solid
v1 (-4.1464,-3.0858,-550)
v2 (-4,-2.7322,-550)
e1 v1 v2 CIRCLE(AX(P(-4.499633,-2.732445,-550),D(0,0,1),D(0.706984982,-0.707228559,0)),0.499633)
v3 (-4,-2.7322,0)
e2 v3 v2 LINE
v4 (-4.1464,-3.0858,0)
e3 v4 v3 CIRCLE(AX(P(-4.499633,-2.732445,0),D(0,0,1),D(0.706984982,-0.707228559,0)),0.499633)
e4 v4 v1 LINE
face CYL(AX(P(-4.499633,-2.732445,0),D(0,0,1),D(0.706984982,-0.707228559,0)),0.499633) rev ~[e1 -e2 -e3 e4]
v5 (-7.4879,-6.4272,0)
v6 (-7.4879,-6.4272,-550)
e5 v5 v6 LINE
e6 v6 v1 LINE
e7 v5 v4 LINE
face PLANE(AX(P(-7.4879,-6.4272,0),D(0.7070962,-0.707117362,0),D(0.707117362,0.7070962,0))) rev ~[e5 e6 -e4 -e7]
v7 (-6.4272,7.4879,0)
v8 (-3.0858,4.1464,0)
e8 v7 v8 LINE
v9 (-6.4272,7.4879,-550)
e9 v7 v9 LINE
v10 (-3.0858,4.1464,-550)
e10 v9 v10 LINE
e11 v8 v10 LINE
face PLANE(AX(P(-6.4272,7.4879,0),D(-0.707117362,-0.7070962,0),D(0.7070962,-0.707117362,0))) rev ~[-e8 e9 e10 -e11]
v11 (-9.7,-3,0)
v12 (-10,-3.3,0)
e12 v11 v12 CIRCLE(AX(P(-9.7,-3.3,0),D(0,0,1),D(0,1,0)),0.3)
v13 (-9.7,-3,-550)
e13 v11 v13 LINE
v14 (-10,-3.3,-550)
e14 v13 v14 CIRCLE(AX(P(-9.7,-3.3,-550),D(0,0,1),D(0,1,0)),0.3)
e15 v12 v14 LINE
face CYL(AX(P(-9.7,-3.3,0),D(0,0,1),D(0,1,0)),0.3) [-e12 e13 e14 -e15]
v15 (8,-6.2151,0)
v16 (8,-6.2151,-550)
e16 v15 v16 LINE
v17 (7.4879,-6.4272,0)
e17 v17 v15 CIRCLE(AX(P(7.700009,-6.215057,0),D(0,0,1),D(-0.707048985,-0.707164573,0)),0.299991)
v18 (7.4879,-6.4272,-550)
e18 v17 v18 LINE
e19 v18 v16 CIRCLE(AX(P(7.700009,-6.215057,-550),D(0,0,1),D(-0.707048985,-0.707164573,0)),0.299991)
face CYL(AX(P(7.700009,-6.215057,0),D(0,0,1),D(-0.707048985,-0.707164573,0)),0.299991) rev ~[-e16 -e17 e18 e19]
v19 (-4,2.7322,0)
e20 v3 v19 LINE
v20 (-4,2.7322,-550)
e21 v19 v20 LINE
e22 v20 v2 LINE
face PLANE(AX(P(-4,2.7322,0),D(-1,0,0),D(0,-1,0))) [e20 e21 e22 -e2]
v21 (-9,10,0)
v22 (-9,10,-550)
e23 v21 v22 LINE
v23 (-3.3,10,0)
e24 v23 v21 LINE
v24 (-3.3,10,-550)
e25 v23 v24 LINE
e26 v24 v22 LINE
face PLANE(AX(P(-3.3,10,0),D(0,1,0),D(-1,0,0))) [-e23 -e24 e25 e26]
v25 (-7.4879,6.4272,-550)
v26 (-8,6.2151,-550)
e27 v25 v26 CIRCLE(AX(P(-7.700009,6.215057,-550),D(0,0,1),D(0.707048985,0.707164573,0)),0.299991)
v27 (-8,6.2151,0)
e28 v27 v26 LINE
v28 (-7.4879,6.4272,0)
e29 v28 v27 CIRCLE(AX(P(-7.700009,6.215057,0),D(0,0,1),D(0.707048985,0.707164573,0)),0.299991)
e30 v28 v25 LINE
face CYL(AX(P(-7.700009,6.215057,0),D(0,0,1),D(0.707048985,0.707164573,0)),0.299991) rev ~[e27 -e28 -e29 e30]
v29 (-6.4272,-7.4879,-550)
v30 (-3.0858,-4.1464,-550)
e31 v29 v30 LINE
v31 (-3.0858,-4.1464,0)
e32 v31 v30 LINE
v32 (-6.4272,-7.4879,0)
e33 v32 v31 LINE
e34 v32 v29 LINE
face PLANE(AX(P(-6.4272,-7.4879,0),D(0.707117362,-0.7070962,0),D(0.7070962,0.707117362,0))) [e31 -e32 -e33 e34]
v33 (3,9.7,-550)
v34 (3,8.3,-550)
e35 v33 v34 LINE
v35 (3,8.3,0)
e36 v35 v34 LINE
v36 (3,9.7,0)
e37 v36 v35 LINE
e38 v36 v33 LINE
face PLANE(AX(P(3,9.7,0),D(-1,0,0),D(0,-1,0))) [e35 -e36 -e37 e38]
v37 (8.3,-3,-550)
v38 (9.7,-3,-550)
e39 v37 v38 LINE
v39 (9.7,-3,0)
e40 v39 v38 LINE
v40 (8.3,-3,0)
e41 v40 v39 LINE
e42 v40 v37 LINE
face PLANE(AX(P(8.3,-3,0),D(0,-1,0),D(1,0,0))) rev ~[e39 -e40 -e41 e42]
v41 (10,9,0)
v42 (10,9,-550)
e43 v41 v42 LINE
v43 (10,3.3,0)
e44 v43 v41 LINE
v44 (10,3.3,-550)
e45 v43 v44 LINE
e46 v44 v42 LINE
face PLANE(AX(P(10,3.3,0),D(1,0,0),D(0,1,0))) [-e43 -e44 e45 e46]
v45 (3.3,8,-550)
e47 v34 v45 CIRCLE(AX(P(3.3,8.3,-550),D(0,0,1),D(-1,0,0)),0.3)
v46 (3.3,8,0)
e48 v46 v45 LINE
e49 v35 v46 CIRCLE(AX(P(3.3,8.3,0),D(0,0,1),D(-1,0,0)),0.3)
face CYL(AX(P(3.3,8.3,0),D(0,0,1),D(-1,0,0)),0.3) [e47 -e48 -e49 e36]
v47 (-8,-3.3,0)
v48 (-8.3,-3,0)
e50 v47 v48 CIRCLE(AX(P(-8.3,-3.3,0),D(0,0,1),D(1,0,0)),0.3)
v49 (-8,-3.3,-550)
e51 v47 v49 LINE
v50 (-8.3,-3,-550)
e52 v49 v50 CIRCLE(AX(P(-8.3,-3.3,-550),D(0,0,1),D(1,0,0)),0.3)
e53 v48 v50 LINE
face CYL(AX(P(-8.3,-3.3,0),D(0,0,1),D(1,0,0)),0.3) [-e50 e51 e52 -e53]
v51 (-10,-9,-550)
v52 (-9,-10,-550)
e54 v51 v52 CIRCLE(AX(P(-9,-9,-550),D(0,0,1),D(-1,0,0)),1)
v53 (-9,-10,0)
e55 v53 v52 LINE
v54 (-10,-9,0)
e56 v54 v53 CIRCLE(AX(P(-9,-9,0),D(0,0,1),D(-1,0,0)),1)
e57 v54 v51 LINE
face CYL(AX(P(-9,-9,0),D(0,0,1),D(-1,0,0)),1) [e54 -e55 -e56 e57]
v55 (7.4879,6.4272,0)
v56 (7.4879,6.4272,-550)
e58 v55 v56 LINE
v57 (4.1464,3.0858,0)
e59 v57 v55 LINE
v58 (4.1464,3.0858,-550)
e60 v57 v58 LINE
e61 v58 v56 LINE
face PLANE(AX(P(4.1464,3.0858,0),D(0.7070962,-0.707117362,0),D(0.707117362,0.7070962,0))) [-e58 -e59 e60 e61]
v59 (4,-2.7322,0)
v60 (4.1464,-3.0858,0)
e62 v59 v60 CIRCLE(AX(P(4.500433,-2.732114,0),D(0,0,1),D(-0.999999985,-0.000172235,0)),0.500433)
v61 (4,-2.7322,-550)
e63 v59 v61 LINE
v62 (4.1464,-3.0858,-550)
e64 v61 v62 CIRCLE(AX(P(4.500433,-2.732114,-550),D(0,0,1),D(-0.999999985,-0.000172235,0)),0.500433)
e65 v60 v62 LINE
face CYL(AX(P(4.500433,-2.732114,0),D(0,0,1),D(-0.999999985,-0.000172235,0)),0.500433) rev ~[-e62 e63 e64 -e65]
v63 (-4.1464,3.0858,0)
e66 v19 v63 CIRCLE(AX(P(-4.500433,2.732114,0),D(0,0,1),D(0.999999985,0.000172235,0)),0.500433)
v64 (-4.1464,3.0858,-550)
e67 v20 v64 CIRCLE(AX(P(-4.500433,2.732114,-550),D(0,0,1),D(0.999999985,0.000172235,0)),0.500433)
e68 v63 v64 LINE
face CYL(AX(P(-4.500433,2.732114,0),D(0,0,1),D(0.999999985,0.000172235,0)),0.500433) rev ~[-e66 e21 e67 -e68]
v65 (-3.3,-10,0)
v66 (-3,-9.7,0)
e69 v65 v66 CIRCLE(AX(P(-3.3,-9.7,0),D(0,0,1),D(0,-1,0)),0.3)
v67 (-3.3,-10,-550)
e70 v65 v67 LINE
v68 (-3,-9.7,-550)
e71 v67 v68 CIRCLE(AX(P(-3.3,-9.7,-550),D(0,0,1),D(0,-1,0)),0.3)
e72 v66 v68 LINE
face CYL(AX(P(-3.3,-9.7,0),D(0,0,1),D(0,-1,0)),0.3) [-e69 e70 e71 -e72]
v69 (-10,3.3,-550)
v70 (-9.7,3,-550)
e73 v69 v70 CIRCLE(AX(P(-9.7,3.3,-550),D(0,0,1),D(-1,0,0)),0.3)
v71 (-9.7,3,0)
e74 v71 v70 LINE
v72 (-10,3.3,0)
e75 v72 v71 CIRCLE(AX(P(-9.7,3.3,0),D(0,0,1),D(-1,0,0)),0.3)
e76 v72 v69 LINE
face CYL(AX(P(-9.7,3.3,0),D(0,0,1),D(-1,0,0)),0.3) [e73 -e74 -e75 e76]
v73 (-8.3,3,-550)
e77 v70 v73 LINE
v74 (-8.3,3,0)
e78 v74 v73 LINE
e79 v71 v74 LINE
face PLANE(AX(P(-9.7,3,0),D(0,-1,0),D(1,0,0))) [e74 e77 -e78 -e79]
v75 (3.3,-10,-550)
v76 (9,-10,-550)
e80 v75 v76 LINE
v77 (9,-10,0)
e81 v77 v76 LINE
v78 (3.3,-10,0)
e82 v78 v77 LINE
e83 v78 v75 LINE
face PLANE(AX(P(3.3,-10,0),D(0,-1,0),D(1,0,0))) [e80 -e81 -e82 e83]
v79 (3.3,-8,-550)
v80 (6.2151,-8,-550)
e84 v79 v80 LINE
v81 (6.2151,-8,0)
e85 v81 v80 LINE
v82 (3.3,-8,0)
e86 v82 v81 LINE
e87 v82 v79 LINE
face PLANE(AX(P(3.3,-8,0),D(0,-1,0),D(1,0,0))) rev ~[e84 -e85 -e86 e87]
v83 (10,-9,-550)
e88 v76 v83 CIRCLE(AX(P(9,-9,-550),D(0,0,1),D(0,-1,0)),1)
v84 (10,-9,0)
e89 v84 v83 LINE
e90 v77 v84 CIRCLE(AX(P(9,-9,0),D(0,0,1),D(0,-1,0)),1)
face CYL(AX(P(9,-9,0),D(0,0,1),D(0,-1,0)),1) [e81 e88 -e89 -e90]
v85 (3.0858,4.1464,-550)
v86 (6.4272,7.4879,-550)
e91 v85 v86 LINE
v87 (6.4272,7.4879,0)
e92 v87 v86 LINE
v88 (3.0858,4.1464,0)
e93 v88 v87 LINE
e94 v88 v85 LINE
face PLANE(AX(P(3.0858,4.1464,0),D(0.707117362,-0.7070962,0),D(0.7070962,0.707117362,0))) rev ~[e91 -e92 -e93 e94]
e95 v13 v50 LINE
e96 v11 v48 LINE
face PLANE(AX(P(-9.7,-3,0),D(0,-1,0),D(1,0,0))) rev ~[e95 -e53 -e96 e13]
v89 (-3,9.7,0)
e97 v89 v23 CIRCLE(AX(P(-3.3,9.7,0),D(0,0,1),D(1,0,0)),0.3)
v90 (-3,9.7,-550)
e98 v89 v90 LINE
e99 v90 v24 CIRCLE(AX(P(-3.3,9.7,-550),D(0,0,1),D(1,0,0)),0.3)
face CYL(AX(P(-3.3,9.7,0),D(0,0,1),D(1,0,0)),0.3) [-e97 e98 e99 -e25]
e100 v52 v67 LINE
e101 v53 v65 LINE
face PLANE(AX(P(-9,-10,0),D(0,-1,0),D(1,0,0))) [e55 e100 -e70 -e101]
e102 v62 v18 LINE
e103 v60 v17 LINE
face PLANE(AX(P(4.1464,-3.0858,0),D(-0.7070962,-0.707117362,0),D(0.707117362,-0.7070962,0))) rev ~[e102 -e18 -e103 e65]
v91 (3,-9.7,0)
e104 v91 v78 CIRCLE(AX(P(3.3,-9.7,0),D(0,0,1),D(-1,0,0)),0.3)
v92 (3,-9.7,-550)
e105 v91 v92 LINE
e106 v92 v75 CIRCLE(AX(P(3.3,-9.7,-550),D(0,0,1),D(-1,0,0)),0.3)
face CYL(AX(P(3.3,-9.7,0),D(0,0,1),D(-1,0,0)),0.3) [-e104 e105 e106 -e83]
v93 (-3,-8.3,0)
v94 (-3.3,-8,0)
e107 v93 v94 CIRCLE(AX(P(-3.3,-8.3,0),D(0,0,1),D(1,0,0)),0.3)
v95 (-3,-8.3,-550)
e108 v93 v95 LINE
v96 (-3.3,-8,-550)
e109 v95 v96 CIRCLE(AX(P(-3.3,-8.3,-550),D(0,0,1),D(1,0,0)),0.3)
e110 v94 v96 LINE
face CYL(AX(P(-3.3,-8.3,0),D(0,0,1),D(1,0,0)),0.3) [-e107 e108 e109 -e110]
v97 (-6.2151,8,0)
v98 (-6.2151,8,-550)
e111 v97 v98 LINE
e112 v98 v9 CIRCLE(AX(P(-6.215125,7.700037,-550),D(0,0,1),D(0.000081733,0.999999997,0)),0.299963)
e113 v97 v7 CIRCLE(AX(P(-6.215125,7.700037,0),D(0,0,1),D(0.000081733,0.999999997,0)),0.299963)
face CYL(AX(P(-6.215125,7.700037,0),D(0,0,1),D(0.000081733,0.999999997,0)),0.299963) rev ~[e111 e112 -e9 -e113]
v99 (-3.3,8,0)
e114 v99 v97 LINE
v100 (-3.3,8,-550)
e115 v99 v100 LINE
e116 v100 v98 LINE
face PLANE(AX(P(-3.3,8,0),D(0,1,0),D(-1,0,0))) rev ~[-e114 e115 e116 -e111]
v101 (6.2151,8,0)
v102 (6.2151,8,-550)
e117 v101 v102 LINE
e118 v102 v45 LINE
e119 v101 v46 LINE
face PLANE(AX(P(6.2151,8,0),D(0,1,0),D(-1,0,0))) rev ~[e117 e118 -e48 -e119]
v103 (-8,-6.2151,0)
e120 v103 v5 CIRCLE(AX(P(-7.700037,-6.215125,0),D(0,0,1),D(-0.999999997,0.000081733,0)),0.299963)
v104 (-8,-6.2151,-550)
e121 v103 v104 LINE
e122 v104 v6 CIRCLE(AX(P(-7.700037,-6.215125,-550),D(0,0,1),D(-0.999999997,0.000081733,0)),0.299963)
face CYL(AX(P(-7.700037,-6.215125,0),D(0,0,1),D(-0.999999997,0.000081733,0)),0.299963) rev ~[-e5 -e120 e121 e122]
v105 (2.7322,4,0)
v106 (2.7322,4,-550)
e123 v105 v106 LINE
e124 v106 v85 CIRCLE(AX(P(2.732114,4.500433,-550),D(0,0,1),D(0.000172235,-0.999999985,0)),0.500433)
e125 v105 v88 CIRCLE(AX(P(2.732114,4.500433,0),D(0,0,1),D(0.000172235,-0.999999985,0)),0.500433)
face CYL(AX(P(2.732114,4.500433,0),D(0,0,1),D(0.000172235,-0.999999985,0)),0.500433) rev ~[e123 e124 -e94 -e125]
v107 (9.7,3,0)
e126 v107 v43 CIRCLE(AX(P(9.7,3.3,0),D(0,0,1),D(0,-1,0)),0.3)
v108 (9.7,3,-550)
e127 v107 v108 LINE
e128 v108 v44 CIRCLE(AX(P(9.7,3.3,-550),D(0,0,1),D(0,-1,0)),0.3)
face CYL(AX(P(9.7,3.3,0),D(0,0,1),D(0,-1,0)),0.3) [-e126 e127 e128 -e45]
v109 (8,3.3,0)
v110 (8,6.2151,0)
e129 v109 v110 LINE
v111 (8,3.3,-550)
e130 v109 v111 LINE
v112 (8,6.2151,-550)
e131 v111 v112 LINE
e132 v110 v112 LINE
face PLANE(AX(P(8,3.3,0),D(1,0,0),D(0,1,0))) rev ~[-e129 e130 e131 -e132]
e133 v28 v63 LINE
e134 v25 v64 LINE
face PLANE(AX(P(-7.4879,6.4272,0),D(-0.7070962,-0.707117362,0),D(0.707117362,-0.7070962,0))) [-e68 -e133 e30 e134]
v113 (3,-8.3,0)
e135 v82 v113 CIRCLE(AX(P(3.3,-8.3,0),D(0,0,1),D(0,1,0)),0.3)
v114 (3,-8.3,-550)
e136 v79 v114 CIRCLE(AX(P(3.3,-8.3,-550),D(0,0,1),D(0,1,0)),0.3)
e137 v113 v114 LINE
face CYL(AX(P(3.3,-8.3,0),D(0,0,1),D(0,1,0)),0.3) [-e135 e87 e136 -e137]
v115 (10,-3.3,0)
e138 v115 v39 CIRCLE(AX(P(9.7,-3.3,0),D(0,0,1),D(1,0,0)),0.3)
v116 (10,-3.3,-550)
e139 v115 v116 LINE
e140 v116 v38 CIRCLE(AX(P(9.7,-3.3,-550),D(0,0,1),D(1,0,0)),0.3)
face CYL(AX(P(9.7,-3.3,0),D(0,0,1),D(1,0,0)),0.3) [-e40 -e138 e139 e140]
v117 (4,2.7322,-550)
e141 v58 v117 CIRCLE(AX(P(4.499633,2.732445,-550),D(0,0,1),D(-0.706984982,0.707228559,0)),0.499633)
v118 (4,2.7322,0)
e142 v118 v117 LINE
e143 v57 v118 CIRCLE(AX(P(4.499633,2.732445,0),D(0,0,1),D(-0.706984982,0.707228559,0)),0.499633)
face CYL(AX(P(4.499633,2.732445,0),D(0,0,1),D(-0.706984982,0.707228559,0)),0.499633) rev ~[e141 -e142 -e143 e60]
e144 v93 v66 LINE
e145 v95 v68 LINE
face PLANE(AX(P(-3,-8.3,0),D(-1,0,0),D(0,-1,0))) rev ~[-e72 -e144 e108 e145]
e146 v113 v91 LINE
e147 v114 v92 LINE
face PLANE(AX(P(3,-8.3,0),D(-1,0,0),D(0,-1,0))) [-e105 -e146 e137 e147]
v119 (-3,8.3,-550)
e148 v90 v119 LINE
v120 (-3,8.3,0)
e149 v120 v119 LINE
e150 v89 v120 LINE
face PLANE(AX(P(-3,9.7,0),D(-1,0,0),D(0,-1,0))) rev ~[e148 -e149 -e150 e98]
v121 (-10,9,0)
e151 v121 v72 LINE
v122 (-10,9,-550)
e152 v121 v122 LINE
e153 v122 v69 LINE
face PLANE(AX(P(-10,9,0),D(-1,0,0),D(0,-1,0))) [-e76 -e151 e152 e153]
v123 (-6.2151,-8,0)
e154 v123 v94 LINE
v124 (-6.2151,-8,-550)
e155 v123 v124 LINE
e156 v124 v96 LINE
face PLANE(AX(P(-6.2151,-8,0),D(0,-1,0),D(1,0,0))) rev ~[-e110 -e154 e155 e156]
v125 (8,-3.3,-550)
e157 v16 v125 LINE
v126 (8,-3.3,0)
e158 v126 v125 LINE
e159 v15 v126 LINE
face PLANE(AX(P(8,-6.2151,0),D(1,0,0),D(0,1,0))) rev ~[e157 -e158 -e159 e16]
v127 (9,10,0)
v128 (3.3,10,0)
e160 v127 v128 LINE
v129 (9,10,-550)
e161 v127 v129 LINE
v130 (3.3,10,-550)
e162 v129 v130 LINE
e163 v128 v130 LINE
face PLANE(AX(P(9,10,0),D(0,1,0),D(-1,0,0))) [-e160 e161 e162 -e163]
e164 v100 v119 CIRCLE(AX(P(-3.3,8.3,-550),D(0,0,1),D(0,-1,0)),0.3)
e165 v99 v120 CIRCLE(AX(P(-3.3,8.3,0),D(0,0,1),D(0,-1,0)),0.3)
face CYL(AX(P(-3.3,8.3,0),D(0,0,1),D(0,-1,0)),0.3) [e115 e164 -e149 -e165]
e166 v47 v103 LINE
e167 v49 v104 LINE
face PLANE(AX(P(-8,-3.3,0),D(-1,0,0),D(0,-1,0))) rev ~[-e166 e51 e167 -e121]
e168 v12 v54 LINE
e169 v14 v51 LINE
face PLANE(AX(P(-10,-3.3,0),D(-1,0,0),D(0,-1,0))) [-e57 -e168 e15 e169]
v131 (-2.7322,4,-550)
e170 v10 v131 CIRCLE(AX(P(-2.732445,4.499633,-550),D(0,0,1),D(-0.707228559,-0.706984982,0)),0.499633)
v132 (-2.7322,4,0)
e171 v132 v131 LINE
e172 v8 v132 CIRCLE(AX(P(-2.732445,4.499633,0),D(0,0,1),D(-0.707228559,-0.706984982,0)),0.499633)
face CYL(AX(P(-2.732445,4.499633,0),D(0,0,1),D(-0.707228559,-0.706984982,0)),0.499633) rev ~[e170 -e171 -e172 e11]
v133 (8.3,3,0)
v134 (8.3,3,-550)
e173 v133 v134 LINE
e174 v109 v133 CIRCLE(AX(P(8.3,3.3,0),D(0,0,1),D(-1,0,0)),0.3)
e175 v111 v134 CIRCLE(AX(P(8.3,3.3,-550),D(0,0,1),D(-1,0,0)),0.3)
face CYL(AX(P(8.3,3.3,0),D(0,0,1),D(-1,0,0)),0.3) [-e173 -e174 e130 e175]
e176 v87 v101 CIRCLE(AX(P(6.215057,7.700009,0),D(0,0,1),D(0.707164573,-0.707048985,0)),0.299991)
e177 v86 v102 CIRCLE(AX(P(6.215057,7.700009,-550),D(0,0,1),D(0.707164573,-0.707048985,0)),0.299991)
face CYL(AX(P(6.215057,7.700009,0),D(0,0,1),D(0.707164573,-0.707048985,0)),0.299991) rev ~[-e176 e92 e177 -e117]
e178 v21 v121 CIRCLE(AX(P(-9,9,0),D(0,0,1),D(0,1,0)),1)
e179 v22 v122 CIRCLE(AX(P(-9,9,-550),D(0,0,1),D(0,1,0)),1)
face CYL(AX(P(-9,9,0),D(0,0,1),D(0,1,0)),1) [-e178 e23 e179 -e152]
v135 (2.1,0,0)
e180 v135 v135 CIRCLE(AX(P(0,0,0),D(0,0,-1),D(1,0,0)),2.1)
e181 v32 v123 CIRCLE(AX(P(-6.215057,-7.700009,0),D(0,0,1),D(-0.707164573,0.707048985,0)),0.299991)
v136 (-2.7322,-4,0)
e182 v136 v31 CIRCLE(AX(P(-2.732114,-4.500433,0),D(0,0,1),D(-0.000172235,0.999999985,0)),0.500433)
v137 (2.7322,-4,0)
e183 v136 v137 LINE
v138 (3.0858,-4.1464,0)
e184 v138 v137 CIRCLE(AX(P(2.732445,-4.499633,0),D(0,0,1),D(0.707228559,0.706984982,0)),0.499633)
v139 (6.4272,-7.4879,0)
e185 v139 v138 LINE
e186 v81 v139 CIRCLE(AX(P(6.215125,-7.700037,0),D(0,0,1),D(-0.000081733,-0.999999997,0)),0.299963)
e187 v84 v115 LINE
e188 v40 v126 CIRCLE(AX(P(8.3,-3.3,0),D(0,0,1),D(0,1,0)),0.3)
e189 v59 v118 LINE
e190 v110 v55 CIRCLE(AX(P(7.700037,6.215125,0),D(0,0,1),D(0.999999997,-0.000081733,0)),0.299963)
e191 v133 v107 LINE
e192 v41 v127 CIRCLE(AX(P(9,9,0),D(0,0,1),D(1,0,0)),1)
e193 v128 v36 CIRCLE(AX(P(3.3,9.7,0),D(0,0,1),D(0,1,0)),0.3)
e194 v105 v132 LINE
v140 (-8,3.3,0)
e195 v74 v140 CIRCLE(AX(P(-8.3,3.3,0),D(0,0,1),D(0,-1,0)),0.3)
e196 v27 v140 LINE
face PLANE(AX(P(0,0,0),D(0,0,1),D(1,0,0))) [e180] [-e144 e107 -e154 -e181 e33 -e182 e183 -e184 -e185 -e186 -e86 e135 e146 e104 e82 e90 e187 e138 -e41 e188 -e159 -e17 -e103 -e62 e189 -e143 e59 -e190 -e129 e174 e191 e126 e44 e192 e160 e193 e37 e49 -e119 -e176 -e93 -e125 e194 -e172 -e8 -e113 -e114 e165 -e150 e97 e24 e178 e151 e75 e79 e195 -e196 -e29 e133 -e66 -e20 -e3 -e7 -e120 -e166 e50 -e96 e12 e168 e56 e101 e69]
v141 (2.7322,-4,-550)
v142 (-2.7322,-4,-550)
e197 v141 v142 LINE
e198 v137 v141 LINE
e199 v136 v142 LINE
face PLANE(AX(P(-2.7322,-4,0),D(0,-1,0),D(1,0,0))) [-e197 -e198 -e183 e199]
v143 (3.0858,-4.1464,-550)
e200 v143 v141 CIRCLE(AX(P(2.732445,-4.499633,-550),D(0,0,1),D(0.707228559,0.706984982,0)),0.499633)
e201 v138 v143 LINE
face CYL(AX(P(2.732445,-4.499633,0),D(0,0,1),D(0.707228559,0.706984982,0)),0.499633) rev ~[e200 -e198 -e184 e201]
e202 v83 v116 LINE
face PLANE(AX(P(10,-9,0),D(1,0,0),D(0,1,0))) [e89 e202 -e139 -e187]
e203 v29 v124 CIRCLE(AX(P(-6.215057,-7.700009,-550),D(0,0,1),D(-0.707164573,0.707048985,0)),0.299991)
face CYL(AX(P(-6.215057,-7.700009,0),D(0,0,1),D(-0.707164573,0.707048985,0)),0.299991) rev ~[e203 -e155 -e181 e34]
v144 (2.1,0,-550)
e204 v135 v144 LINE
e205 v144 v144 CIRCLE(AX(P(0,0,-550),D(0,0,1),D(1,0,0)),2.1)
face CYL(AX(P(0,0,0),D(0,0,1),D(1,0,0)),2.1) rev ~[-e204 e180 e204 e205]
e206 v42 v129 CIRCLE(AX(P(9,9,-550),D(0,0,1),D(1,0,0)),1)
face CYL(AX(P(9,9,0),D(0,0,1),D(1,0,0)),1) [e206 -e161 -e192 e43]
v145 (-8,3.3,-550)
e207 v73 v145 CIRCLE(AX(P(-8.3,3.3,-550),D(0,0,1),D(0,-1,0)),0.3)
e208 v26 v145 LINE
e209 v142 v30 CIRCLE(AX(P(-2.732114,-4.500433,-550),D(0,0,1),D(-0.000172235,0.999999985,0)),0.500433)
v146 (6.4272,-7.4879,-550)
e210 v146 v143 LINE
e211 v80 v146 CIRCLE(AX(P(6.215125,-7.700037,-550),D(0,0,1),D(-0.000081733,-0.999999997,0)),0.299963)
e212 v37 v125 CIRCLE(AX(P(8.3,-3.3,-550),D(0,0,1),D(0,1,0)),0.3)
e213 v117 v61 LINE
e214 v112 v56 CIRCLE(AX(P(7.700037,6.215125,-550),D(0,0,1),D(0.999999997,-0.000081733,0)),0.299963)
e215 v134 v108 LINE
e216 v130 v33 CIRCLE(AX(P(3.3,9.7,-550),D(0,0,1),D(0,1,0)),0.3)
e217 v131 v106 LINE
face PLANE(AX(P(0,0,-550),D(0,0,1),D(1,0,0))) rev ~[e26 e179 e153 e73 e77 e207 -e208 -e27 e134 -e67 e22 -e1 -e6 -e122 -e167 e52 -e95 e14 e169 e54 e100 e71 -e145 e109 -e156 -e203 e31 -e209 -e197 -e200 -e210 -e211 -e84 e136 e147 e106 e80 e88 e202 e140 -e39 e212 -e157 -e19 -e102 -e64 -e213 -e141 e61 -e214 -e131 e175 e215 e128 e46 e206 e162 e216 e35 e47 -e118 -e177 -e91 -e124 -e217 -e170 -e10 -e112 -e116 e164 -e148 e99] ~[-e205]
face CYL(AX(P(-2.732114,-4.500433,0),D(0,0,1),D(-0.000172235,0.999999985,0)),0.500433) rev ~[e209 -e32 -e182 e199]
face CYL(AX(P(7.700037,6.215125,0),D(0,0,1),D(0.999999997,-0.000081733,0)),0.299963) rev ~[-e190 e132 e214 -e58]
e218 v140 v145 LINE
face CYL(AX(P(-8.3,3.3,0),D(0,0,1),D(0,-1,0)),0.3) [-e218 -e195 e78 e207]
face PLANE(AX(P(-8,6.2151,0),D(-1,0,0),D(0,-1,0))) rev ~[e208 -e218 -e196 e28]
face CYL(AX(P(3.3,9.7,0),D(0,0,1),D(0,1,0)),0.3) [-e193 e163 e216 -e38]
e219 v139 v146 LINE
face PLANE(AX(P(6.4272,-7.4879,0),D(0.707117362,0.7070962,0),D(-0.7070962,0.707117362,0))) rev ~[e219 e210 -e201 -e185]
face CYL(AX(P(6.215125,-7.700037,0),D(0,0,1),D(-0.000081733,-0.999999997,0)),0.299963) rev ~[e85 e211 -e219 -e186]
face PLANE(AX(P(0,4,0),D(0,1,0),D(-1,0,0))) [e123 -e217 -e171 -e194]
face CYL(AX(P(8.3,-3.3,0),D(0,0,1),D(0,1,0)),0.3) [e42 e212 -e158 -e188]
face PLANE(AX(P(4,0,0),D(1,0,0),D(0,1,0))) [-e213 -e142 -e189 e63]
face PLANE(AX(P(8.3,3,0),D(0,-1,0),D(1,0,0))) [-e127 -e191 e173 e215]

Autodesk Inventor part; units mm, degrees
ref_plane "YZ Plane" through (0, 0, 0) normal (1, 0, 0) x (0, 1, 0)
ref_plane "XZ Plane" through (0, 0, 0) normal (0, 1, 0) x (-1, 0, 0)
ref_plane "XY Plane" through (0, 0, 0) normal (0, 0, 1) x (1, 0, 0)
sketch "Skizze1" plane through (0, 0, 0) normal (0, 0, 1) x (1, 0, 0)
  line L0 (-20.0059, 0) -> (20.0059, 0) projected
  line L1 (0, -20.0059) -> (0, 20.0059) projected
  line L2 (-14.2899, 0) -> (14.2899, 0)
  line L3 (0, -14.2899) -> (0, 14.2899)
  line L4 (-10, -10) -> (10, 10) construction
  line L5 (10, -10) -> (-10, 10) construction
  line L6 (-8, -8) -> (8, 8) construction
  line L7 (8, -8) -> (-8, 8) construction
  line L8 (-2.7322, -4) -> (2.7322, -4)
  line L9 (4, -2.7322) -> (4, 2.7322)
  line L10 (2.7322, 4) -> (-2.7322, 4)
  line L11 (-4, 2.7322) -> (-4, -2.7322)
  line L12 (-4, -4) -> (4, 4) construction
  line L13 (4, -4) -> (-4, 4) construction
  arc A0 (-9, 10) -> (-10, 9) centre (-9, 9) ccw
  arc A1 (10, 9) -> (9, 10) centre (9, 9) ccw
  arc A2 (9, -10) -> (10, -9) centre (9, -9) ccw
  arc A3 (-10, -9) -> (-9, -10) centre (-9, -9) ccw
  line L14 (-3, 9.7) -> (-3, 8.3)
  line L15 (3, 9.7) -> (3, 8.3)
  line L16 (6.2151, 8) -> (3.3, 8)
  line L17 (-3.3, 8) -> (-6.2151, 8)
  line L18 (9, 10) -> (3.3, 10)
  line L19 (-3.3, 10) -> (-9, 10)
  line L20 (-9.7, -3) -> (-8.3, -3)
  line L21 (-9.7, 3) -> (-8.3, 3)
  line L22 (-8, 6.2151) -> (-8, 3.3)
  line L23 (-8, -3.3) -> (-8, -6.2151)
  line L24 (-10, 9) -> (-10, 3.3)
  line L25 (-10, -3.3) -> (-10, -9)
  line L26 (-3, -8.3) -> (-3, -9.7)
  line L27 (3, -8.3) -> (3, -9.7)
  line L28 (-9, -10) -> (-3.3, -10)
  line L29 (3.3, -10) -> (9, -10)
  line L30 (-6.2151, -8) -> (-3.3, -8)
  line L31 (3.3, -8) -> (6.2151, -8)
  line L32 (8.3, 3) -> (9.7, 3)
  line L33 (8.3, -3) -> (9.7, -3)
  line L34 (8, -6.2151) -> (8, -3.3)
  line L35 (8, 3.3) -> (8, 6.2151)
  line L36 (10, -9) -> (10, -3.3)
  line L37 (10, 3.3) -> (10, 9)
  arc A4 (-10, 3.3) -> (-9.7, 3) centre (-9.7, 3.3) ccw
  arc A5 (-8.3, 3) -> (-8, 3.3) centre (-8.3, 3.3) ccw
  arc A6 (-9.7, -3) -> (-10, -3.3) centre (-9.7, -3.3) ccw
  arc A7 (-8, -3.3) -> (-8.3, -3) centre (-8.3, -3.3) ccw
  arc A8 (-3.3, -10) -> (-3, -9.7) centre (-3.3, -9.7) ccw
  arc A9 (-3, -8.3) -> (-3.3, -8) centre (-3.3, -8.3) ccw
  arc A10 (3, -9.7) -> (3.3, -10) centre (3.3, -9.7) ccw
  arc A11 (3.3, -8) -> (3, -8.3) centre (3.3, -8.3) ccw
  arc A12 (8.3, -3) -> (8, -3.3) centre (8.3, -3.3) ccw
  arc A13 (10, -3.3) -> (9.7, -3) centre (9.7, -3.3) ccw
  arc A14 (8, 3.3) -> (8.3, 3) centre (8.3, 3.3) ccw
  arc A15 (9.7, 3) -> (10, 3.3) centre (9.7, 3.3) ccw
  arc A16 (3, 8.3) -> (3.3, 8) centre (3.3, 8.3) ccw
  arc A17 (3.3, 10) -> (3, 9.7) centre (3.3, 9.7) ccw
  arc A18 (-3.3, 8) -> (-3, 8.3) centre (-3.3, 8.3) ccw
  arc A19 (-3, 9.7) -> (-3.3, 10) centre (-3.3, 9.7) ccw
  line L38 (-7.4879, 6.4272) -> (-4.1464, 3.0858)
  line L39 (-6.4272, 7.4879) -> (-3.0858, 4.1464)
  line L40 (-6.4272, -7.4879) -> (-3.0858, -4.1464)
  line L41 (-7.4879, -6.4272) -> (-4.1464, -3.0858)
  arc A20 (-7.4879, 6.4272) -> (-8, 6.2151) centre (-7.7, 6.2151) ccw
  arc A21 (-6.2151, 8) -> (-6.4272, 7.4879) centre (-6.2151, 7.7) ccw
  arc A22 (-8, -6.2151) -> (-7.4879, -6.4272) centre (-7.7, -6.2151) ccw
  arc A23 (-6.4272, -7.4879) -> (-6.2151, -8) centre (-6.2151, -7.7) ccw
  line L42 (6.4272, -7.4879) -> (3.0858, -4.1464)
  line L43 (4.1464, -3.0858) -> (7.4879, -6.4272)
  arc A24 (6.2151, -8) -> (6.4272, -7.4879) centre (6.2151, -7.7) ccw
  arc A25 (7.4879, -6.4272) -> (8, -6.2151) centre (7.7, -6.2151) ccw
  line L44 (4.1464, 3.0858) -> (7.4879, 6.4272)
  line L45 (3.0858, 4.1464) -> (6.4272, 7.4879)
  arc A26 (6.4272, 7.4879) -> (6.2151, 8) centre (6.2151, 7.7) ccw
  arc A27 (8, 6.2151) -> (7.4879, 6.4272) centre (7.7, 6.2151) ccw
  arc A28 (-3.0858, 4.1464) -> (-2.7322, 4) centre (-2.7322, 4.5) ccw
  arc A29 (-4, 2.7322) -> (-4.1464, 3.0858) centre (-4.5, 2.7322) ccw
  arc A30 (2.7322, 4) -> (3.0858, 4.1464) centre (2.7322, 4.5) ccw
  arc A31 (4.1464, 3.0858) -> (4, 2.7322) centre (4.5, 2.7322) ccw
  arc A32 (-4.1464, -3.0858) -> (-4, -2.7322) centre (-4.5, -2.7322) ccw
  arc A33 (-2.7322, -4) -> (-3.0858, -4.1464) centre (-2.7322, -4.5) ccw
  arc A34 (3.0858, -4.1464) -> (2.7322, -4) centre (2.7322, -4.5) ccw
  arc A35 (4, -2.7322) -> (4.1464, -3.0858) centre (4.5, -2.7322) ccw
  circle A36 centre (0, 0) radius 2.1
  point P0 (3, 8.9014)
  point P1 (-3, 9.1415)
  point P2 (-8.9764, -3)
  point P3 (-9.1265, 3)
  point P4 (3, -9.1251)
  point P5 (-3, -9.1251)
  point P6 (9.1101, -3)
  point P7 (9.1101, 3)
  dimension "d0" = 20
  dimension "d1" = 20
  dimension "d2" = 16
  dimension "d3" = 16
  dimension "d4" = 8
  dimension "d5" = 8
  dimension "d6" = 1
  dimension "d7" = 6
  dimension "d8" = 6
  dimension "d9" = 6
  dimension "d10" = 6
  dimension "d11" = 0.3
  dimension "d12" = 1.5
  dimension "d13" = 1.5
  dimension "d14" = 0.3
  dimension "d15" = 1.5
  dimension "d16" = 0.3
  dimension "d17" = 1.5
  dimension "d18" = 0.3
  dimension "d19" = 0.5
  dimension "d20" = 4.2
  dimension "d21" = 45
  dimension "d22" = 10
  dimension "d23" = 10
  dimension "d24" = 4
  dimension "d25" = 4
  dimension "d26" = 10
  dimension "d27" = 8
  dimension "d28" = 4
  dimension "d29" = 4
  dimension "d30" = 10
  dimension "d31" = 9.1101
  dimension "d32" = 8
  dimension "d33" = 4
  dimension "d34" = 8.9014
  dimension "d35" = 9.1251
  dimension "d36" = 9.1415
  dimension "d37" = 8.9764
  dimension "d38" = 9.1265
extrude "Extrusion1" add sketch "Skizze1" against normal blind 550
sketch "Skizze2" plane through (0, 0, 0) normal (0, 0, 1) x (1, 0, 0)
  arc A0 (-4.1464, -3.0858) -> (-4, -2.7322) centre (-4.5, -2.7322) ccw projected
  line L0 (-4.1464, -3.0858) -> (-7.4879, -6.4272) projected
  arc A1 (-8, -6.2151) -> (-7.4879, -6.4272) centre (-7.7, -6.2151) ccw projected
  line L1 (-8, -6.2151) -> (-8, -3.3) projected
  arc A2 (-8, -3.3) -> (-8.3, -3) centre (-8.3, -3.3) ccw projected
  line L2 (-8.3, -3) -> (-9.7, -3) projected
  arc A3 (-9.7, -3) -> (-10, -3.3) centre (-9.7, -3.3) ccw projected
  line L3 (-10, -3.3) -> (-10, -9) projected
  arc A4 (-10, -9) -> (-9, -10) centre (-9, -9) ccw projected
  line L4 (-9, -10) -> (-3.3, -10) projected
  arc A5 (-3.3, -10) -> (-3, -9.7) centre (-3.3, -9.7) ccw projected
  line L5 (-3, -9.7) -> (-3, -8.3) projected
  arc A6 (-3, -8.3) -> (-3.3, -8) centre (-3.3, -8.3) ccw projected
  line L6 (-3.3, -8) -> (-6.2151, -8) projected
  arc A7 (-6.4272, -7.4879) -> (-6.2151, -8) centre (-6.2151, -7.7) ccw projected
  line L7 (-6.4272, -7.4879) -> (-3.0858, -4.1464) projected
  arc A8 (-2.7322, -4) -> (-3.0858, -4.1464) centre (-2.7322, -4.5) ccw projected
  line L8 (-2.7322, -4) -> (2.7322, -4) projected
  arc A9 (3.0858, -4.1464) -> (2.7322, -4) centre (2.7322, -4.5) ccw projected
  line L9 (3.0858, -4.1464) -> (6.4272, -7.4879) projected
  arc A10 (6.2151, -8) -> (6.4272, -7.4879) centre (6.2151, -7.7) ccw projected
  line L10 (6.2151, -8) -> (3.3, -8) projected
  arc A11 (3.3, -8) -> (3, -8.3) centre (3.3, -8.3) ccw projected
  line L11 (3, -8.3) -> (3, -9.7) projected
  arc A12 (3, -9.7) -> (3.3, -10) centre (3.3, -9.7) ccw projected
  line L12 (3.3, -10) -> (9, -10) projected
  arc A13 (9, -10) -> (10, -9) centre (9, -9) ccw projected
  line L13 (10, -9) -> (10, -3.3) projected
  arc A14 (10, -3.3) -> (9.7, -3) centre (9.7, -3.3) ccw projected
  line L14 (9.7, -3) -> (8.3, -3) projected
  arc A15 (8.3, -3) -> (8, -3.3) centre (8.3, -3.3) ccw projected
  line L15 (8, -3.3) -> (8, -6.2151) projected
  arc A16 (7.4879, -6.4272) -> (8, -6.2151) centre (7.7, -6.2151) ccw projected
  line L16 (7.4879, -6.4272) -> (4.1464, -3.0858) projected
  arc A17 (4, -2.7322) -> (4.1464, -3.0858) centre (4.5, -2.7322) ccw projected
  line L17 (4, -2.7322) -> (4, 2.7322) projected
  arc A18 (4.1464, 3.0858) -> (4, 2.7322) centre (4.5, 2.7322) ccw projected
  line L18 (4.1464, 3.0858) -> (7.4879, 6.4272) projected
  arc A19 (8, 6.2151) -> (7.4879, 6.4272) centre (7.7, 6.2151) ccw projected
  line L19 (8, 6.2151) -> (8, 3.3) projected
  arc A20 (8, 3.3) -> (8.3, 3) centre (8.3, 3.3) ccw projected
  line L20 (8.3, 3) -> (9.7, 3) projected
  arc A21 (9.7, 3) -> (10, 3.3) centre (9.7, 3.3) ccw projected
  line L21 (10, 3.3) -> (10, 9) projected
  arc A22 (10, 9) -> (9, 10) centre (9, 9) ccw projected
  line L22 (9, 10) -> (3.3, 10) projected
  arc A23 (3.3, 10) -> (3, 9.7) centre (3.3, 9.7) ccw projected
  line L23 (3, 9.7) -> (3, 8.3) projected
  arc A24 (3, 8.3) -> (3.3, 8) centre (3.3, 8.3) ccw projected
  line L24 (3.3, 8) -> (6.2151, 8) projected
  arc A25 (6.4272, 7.4879) -> (6.2151, 8) centre (6.2151, 7.7) ccw projected
  line L25 (6.4272, 7.4879) -> (3.0858, 4.1464) projected
  arc A26 (2.7322, 4) -> (3.0858, 4.1464) centre (2.7322, 4.5) ccw projected
  line L26 (2.7322, 4) -> (-2.7322, 4) projected
  arc A27 (-3.0858, 4.1464) -> (-2.7322, 4) centre (-2.7322, 4.5) ccw projected
  line L27 (-3.0858, 4.1464) -> (-6.4272, 7.4879) projected
  arc A28 (-6.2151, 8) -> (-6.4272, 7.4879) centre (-6.2151, 7.7) ccw projected
  line L28 (-6.2151, 8) -> (-3.3, 8) projected
  arc A29 (-3.3, 8) -> (-3, 8.3) centre (-3.3, 8.3) ccw projected
  line L29 (-3, 8.3) -> (-3, 9.7) projected
  arc A30 (-3, 9.7) -> (-3.3, 10) centre (-3.3, 9.7) ccw projected
  line L30 (-3.3, 10) -> (-9, 10) projected
  arc A31 (-9, 10) -> (-10, 9) centre (-9, 9) ccw projected
  line L31 (-10, 9) -> (-10, 3.3) projected
  arc A32 (-10, 3.3) -> (-9.7, 3) centre (-9.7, 3.3) ccw projected
  line L32 (-9.7, 3) -> (-8.3, 3) projected
  arc A33 (-8.3, 3) -> (-8, 3.3) centre (-8.3, 3.3) ccw projected
  line L33 (-8, 3.3) -> (-8, 6.2151) projected
  arc A34 (-7.4879, 6.4272) -> (-8, 6.2151) centre (-7.7, 6.2151) ccw projected
  line L34 (-7.4879, 6.4272) -> (-4.1464, 3.0858) projected
  arc A35 (-4, 2.7322) -> (-4.1464, 3.0858) centre (-4.5, 2.7322) ccw projected
  line L35 (-4, 2.7322) -> (-4, -2.7322) projected
  line L36 (-14.2899, 0) -> (14.2899, 0) projected
  line L37 (0, -14.2899) -> (0, 14.2899) projected
  circle A36 centre (0, 0) radius 2.1
  dimension "d41" = 4.2
extrude "Extrusion2" cut sketch "Skizze2" against normal blind 550 contours A36 L37 L36 | L36 L37 A36 | L37 A36 L36 | L36 A36 L37
properties part number "I Strebe senkrecht" material "Aluminium 6061"
